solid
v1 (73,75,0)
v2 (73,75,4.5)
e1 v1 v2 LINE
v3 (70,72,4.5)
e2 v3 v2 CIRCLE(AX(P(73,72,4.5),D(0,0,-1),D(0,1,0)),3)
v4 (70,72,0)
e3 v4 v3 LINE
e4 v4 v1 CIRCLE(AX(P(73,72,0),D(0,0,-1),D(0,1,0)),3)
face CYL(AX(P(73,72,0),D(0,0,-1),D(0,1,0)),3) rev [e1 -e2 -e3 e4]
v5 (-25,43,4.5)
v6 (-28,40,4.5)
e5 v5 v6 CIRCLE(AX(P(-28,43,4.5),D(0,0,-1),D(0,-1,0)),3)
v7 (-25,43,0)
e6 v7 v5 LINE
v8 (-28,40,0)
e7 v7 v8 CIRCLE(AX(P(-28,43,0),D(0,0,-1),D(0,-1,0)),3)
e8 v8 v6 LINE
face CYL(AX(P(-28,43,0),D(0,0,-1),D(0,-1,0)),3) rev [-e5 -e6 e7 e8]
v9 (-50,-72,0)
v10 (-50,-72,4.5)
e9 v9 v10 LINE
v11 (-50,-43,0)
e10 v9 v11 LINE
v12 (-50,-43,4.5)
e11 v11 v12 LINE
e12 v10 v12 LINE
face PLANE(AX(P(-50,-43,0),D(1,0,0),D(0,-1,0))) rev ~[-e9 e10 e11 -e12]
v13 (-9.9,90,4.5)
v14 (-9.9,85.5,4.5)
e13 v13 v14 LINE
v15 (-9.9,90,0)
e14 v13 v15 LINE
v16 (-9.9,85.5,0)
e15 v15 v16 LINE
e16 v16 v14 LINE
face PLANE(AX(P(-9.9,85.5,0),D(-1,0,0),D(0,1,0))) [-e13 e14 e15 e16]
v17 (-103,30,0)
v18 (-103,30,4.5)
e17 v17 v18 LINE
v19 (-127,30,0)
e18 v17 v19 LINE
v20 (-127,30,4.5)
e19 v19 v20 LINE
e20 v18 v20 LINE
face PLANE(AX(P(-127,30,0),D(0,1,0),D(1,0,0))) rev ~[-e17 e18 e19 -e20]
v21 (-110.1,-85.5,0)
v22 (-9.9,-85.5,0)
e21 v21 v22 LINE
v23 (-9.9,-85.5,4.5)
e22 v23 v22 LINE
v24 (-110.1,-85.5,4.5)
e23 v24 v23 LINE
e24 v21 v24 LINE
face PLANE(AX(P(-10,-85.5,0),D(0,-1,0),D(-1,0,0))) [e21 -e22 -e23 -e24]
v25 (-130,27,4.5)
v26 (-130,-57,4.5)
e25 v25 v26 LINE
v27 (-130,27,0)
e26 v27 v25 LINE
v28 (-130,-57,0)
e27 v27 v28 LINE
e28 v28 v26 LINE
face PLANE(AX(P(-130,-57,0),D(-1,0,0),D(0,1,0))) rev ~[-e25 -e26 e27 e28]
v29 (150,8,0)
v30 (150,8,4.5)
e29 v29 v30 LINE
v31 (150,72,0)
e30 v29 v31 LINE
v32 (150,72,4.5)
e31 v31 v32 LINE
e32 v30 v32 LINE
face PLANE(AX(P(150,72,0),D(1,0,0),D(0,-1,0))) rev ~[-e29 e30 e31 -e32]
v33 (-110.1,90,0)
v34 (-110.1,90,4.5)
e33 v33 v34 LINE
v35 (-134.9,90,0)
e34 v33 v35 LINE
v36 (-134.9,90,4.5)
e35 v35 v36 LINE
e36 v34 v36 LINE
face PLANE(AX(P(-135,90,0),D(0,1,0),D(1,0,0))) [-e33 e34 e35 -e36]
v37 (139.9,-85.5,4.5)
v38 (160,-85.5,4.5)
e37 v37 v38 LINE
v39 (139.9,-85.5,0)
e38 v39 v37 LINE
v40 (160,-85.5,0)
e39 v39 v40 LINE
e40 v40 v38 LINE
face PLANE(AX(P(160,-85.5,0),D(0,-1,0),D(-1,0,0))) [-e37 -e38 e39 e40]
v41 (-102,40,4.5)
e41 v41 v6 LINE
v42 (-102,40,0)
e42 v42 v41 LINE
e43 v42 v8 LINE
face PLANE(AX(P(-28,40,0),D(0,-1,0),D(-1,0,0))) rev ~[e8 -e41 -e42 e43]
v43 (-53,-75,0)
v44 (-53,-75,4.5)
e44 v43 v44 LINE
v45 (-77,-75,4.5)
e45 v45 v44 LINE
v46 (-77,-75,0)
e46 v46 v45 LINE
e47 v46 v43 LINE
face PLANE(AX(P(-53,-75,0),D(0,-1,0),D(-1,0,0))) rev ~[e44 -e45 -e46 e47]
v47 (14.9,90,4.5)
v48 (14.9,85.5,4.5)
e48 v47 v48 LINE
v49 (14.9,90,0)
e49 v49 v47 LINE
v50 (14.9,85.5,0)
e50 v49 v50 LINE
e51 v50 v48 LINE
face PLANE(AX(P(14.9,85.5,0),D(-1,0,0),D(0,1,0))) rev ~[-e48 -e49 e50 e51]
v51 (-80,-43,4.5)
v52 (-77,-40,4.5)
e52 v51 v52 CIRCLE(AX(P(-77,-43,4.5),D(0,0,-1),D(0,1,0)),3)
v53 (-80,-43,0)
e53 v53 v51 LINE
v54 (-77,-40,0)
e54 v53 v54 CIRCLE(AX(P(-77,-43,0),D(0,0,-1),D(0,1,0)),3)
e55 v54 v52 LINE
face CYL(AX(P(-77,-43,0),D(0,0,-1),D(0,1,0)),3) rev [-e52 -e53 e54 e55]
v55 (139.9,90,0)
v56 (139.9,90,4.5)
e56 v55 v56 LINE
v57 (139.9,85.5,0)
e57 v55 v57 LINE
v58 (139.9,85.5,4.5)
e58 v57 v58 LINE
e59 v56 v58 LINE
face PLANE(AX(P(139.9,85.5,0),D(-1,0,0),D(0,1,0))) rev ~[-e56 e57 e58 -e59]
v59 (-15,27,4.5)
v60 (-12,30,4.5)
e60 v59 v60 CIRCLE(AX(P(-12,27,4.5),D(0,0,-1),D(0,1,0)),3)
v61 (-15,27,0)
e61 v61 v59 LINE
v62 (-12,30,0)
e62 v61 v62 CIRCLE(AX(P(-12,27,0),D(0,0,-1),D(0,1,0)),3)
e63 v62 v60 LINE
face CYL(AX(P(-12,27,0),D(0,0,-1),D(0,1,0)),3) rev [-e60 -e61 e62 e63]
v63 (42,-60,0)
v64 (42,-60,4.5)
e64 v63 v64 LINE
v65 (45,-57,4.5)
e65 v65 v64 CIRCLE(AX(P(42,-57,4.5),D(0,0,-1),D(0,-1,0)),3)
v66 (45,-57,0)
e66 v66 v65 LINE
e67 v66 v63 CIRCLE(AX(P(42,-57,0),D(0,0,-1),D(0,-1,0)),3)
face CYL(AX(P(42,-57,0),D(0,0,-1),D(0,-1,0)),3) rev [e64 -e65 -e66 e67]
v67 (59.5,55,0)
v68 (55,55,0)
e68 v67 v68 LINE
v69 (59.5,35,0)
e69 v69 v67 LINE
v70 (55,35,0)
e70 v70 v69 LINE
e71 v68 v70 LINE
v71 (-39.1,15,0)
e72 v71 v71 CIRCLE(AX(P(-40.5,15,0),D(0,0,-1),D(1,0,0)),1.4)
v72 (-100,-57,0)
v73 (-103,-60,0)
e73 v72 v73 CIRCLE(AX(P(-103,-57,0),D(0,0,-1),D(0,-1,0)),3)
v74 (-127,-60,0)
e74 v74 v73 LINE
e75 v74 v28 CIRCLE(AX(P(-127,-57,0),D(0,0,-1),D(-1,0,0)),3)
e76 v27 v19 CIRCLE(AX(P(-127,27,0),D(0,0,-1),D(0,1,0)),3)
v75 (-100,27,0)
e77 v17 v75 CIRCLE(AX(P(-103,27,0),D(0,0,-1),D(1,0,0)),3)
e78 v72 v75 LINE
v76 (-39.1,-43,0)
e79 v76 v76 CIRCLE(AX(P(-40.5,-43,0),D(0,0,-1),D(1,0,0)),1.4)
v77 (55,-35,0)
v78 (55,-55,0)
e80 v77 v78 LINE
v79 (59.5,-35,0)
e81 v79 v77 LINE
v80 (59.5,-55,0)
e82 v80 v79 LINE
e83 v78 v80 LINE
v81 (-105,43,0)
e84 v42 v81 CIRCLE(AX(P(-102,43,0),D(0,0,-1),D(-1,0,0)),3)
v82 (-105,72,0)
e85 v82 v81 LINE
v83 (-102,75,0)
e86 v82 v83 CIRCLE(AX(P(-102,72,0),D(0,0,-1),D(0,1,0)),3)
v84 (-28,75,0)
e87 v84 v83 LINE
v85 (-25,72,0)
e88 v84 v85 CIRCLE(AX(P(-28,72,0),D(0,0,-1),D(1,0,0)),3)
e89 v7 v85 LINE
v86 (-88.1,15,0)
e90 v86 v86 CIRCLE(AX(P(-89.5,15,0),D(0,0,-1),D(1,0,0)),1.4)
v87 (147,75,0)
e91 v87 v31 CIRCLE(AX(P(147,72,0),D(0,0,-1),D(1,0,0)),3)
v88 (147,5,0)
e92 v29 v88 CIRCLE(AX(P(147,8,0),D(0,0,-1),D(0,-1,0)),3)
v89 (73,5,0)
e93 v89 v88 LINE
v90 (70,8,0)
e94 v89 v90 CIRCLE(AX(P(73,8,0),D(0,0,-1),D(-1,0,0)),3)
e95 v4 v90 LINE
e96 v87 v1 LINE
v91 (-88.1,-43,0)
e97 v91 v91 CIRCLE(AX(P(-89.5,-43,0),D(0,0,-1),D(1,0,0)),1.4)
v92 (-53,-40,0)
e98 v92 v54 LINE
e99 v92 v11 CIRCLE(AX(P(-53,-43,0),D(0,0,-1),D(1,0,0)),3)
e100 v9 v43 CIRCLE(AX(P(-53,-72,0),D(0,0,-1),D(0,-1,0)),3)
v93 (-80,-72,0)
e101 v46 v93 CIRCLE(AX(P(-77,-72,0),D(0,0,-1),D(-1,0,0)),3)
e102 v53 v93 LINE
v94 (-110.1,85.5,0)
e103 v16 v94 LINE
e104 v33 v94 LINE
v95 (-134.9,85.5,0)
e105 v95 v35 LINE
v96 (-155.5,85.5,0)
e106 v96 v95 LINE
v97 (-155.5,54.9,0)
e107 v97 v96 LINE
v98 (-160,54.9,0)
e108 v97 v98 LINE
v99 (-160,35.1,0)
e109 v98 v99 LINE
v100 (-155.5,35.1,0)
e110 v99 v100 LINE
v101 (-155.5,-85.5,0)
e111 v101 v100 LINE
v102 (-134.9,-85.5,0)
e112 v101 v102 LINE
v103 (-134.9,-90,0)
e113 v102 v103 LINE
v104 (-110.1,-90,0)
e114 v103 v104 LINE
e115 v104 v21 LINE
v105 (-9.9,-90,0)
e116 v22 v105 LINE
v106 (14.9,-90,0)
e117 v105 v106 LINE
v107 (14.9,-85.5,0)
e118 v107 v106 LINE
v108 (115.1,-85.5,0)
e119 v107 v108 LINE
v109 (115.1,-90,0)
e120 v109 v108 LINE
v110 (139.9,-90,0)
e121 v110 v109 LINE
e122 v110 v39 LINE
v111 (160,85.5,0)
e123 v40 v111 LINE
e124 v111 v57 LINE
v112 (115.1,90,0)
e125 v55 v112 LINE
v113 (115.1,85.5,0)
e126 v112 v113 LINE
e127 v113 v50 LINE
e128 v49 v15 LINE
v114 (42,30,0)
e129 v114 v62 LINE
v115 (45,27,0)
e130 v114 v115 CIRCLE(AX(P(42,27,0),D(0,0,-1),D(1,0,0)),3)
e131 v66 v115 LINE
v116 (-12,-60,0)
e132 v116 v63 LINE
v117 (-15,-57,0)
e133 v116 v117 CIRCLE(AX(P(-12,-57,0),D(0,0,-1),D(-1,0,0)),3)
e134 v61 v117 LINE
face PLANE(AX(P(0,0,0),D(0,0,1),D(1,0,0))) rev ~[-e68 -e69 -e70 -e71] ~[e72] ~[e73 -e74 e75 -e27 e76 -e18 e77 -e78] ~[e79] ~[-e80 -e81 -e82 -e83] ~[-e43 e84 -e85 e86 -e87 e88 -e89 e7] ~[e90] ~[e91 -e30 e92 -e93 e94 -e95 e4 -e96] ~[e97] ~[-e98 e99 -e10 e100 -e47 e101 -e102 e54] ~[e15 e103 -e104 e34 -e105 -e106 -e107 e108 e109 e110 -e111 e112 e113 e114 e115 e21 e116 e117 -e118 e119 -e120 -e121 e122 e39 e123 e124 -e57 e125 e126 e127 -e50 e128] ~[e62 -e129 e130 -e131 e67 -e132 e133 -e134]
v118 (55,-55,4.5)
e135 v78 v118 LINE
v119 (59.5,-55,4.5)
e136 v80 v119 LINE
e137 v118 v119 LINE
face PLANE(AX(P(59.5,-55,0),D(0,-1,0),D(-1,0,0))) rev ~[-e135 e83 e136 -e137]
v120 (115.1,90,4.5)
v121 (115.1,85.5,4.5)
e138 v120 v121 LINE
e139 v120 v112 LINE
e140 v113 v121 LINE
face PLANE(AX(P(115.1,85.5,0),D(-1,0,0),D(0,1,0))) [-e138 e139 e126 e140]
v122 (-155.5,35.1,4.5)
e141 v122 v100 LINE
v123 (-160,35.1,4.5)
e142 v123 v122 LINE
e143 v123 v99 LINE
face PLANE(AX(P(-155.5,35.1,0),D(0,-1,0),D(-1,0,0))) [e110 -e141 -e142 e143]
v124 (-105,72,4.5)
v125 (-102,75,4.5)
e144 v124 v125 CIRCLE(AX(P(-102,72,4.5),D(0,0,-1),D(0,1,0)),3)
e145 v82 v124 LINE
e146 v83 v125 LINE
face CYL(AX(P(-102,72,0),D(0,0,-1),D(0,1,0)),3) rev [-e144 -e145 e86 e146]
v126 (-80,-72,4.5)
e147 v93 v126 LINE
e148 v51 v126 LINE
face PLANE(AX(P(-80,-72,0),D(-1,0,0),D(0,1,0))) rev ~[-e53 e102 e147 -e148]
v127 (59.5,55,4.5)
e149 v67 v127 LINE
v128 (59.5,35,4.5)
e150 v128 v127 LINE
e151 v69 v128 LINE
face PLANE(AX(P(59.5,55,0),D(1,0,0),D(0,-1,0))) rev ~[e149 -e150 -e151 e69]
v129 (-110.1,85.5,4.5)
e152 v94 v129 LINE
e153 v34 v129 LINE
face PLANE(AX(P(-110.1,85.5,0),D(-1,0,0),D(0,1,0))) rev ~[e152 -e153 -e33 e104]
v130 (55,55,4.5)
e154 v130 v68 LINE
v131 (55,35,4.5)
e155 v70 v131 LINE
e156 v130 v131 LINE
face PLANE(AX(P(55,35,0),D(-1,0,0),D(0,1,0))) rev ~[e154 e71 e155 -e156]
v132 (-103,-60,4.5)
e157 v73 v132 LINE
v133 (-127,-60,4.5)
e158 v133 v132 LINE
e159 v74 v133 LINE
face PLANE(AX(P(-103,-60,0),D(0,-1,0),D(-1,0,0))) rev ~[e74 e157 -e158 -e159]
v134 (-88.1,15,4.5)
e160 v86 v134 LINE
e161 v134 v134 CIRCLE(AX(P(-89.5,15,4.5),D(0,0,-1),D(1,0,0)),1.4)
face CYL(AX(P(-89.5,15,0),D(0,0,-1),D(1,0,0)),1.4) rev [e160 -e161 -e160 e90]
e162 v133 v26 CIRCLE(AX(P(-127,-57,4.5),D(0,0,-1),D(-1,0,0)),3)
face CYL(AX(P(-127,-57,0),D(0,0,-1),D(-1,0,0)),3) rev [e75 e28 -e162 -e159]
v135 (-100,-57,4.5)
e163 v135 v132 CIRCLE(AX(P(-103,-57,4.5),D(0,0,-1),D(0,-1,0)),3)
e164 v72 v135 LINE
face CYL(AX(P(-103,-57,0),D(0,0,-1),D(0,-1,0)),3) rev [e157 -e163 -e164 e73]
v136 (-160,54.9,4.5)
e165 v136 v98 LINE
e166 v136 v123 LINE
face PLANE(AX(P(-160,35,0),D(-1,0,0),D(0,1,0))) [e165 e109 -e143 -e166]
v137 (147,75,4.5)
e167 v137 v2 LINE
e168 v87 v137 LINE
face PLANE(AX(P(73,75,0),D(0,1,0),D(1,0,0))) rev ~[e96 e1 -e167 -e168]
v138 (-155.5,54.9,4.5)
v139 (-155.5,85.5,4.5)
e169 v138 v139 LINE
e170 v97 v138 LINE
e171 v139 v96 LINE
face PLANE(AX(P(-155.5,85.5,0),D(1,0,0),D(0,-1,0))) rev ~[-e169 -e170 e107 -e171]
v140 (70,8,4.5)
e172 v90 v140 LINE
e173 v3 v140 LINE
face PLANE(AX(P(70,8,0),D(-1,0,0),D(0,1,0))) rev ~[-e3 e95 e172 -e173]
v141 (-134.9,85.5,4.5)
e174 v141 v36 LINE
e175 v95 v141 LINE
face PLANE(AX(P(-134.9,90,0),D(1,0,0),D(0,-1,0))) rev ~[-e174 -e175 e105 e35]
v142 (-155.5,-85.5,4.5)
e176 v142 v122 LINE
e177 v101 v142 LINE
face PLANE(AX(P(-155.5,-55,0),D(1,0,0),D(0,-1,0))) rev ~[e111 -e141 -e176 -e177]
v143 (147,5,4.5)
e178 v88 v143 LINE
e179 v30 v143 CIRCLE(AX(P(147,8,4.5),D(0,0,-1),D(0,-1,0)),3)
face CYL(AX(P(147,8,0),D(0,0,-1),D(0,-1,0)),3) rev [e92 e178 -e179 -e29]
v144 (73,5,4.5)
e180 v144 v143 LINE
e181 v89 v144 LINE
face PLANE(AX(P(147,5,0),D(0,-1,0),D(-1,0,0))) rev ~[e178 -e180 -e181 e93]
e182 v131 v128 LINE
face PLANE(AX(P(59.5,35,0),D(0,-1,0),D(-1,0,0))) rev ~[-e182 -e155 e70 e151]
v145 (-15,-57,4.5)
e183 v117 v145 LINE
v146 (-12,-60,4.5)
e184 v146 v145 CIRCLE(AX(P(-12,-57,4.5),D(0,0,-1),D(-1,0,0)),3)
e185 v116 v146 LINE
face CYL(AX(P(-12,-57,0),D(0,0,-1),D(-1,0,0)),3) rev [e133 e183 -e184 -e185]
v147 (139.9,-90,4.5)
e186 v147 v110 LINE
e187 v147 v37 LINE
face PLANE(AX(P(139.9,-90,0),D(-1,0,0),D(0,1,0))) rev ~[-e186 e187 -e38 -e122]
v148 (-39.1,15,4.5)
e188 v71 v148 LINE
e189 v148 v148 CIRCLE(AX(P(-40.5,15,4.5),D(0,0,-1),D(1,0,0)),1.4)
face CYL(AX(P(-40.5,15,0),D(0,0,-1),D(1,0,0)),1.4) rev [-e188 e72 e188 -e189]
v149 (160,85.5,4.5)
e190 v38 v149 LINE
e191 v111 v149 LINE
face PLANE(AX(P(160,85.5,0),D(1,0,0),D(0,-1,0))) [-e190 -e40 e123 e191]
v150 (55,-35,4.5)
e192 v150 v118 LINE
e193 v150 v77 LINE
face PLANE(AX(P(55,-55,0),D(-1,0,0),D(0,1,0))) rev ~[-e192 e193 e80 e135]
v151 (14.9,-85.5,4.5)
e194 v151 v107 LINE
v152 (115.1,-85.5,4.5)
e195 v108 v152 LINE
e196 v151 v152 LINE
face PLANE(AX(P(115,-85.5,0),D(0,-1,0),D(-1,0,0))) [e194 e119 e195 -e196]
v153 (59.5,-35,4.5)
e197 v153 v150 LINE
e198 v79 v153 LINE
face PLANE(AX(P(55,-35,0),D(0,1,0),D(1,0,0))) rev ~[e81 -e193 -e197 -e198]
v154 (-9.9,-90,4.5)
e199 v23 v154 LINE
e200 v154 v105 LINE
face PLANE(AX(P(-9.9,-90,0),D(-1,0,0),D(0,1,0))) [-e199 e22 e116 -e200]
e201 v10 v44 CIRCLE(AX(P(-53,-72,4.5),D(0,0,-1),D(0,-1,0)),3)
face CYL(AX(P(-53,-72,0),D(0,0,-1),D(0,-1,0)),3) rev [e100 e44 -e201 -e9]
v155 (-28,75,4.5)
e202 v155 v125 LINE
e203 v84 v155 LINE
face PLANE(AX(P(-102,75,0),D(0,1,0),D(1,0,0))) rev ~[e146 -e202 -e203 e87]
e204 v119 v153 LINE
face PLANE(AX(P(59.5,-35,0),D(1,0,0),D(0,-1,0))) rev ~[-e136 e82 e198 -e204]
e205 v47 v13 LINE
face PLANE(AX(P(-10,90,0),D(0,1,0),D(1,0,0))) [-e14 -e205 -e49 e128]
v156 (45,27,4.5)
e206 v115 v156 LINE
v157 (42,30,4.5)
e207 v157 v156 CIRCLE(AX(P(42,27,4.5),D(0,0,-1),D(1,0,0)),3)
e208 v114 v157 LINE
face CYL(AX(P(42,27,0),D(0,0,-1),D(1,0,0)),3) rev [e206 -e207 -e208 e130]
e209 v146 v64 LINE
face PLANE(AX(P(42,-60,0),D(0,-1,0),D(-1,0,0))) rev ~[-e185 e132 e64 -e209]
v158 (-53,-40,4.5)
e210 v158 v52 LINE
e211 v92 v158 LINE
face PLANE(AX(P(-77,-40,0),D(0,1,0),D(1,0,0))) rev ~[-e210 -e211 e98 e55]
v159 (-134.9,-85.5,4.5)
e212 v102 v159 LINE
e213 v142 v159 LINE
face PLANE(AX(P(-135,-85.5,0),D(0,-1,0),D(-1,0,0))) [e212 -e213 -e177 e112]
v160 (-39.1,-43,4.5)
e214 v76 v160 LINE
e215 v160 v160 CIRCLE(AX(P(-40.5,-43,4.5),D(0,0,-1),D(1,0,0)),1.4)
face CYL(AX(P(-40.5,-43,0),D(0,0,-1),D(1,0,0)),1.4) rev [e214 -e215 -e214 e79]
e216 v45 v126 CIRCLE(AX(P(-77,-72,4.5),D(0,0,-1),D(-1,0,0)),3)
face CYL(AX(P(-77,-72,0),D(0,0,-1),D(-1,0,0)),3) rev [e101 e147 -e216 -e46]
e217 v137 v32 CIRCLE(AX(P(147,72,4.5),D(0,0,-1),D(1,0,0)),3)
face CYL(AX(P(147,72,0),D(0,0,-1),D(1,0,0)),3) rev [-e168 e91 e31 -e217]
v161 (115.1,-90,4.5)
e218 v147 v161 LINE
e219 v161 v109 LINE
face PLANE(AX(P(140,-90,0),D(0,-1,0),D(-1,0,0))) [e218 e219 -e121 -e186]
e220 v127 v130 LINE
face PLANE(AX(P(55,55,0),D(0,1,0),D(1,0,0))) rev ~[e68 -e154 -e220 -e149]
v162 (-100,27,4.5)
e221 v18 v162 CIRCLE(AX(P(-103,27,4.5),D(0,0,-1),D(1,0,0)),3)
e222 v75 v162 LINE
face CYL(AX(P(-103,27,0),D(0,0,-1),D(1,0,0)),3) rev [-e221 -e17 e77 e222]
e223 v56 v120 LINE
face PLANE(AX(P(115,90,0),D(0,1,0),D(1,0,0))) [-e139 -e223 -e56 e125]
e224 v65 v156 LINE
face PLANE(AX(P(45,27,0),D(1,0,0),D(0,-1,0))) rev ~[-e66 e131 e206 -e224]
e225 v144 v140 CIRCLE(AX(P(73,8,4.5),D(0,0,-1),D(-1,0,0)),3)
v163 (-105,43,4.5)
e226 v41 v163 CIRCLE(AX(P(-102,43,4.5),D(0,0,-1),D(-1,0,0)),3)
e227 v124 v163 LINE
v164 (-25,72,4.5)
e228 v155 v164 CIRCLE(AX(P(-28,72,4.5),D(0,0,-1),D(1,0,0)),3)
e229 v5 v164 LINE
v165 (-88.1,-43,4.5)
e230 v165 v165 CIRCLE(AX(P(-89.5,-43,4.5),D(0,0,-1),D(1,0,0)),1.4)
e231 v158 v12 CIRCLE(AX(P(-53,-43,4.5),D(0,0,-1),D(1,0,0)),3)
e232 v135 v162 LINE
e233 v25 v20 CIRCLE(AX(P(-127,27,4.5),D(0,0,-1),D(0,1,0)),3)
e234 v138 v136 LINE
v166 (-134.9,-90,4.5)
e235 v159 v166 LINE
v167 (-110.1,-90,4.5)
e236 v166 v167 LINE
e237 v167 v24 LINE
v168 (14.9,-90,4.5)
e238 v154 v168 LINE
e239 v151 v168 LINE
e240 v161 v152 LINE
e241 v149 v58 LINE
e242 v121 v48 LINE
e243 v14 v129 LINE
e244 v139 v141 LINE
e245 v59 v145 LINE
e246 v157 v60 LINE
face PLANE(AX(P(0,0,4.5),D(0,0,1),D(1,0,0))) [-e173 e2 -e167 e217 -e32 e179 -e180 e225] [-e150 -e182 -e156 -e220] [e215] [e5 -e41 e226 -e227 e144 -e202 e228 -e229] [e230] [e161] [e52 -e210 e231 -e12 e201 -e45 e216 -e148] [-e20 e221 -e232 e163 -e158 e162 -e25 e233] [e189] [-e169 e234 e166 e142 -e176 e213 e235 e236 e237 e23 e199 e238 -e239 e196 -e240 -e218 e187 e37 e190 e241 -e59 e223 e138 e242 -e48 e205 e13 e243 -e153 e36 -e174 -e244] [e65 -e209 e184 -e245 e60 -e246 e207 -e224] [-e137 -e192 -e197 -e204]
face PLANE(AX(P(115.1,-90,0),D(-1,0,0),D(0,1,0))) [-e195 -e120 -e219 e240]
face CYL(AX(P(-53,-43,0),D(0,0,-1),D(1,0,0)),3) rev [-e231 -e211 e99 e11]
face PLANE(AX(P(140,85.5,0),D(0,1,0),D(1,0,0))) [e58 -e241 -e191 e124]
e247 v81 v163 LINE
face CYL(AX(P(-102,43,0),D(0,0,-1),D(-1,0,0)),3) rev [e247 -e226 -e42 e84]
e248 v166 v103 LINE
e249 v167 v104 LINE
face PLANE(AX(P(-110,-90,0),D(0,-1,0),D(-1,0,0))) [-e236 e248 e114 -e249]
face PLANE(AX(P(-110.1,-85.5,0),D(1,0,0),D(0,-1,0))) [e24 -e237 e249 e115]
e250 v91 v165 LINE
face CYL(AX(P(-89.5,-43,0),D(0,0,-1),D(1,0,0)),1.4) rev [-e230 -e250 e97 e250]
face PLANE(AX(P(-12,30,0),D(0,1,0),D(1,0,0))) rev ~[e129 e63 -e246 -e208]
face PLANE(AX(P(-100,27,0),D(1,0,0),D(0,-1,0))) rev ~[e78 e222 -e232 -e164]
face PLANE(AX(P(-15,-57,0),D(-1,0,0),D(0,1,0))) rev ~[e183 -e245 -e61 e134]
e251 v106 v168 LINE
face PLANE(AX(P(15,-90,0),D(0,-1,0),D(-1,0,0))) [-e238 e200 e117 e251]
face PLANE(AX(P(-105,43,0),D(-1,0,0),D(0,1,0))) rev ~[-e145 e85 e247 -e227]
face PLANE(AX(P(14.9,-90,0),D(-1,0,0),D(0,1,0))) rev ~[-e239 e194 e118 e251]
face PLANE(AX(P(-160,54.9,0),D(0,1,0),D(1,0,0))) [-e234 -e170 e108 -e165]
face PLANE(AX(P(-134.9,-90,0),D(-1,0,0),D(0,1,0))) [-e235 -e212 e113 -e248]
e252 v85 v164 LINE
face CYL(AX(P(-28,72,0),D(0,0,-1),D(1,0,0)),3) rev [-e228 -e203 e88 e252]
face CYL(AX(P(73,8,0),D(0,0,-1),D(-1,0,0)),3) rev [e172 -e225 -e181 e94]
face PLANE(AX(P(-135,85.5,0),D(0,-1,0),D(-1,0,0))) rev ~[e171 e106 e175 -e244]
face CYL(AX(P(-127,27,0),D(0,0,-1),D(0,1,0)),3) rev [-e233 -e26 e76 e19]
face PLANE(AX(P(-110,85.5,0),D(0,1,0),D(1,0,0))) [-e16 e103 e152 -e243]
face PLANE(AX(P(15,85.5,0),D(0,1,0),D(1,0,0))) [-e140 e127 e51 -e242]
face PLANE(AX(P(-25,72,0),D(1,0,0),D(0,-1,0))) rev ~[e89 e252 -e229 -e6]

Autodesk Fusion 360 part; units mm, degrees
sketch "Sketch1" plane through (0, 0, 0) normal (0, 0, 1) x (1, 0, 0)
  line L0 (160, -90) -> (-160, -90)
  line L1 (-160, -90) -> (-160, 90)
  line L2 (-160, 90) -> (160, 90)
  line L3 (160, 90) -> (160, -90)
  line L4 (160, -90) -> (-160, 90) construction
  line L5 (-160, -90) -> (160, 90) construction
  line L6 (170, 85.5) -> (-180, 85.5) construction
  line L7 (-180, -85.5) -> (170, -85.5) construction
  line L8 (-155.5, 90) -> (-155.5, -90)
  line L9 (-160, 90) -> (-135, 90)
  line L10 (-135, 90) -> (-135, 85.5)
  line L11 (-135, 85.5) -> (-160, 85.5)
  line L12 (-160, 85.5) -> (-160, 90)
  line L13 (-160, -90) -> (-135, -90)
  line L14 (-135, -90) -> (-135, -85.5)
  line L15 (-135, -85.5) -> (-160, -85.5)
  line L16 (-160, -85.5) -> (-160, -90)
  line L17 (-110, -90) -> (-10, -90)
  line L18 (-10, -90) -> (-10, -85.5)
  line L19 (-10, -85.5) -> (-110, -85.5)
  line L20 (-110, -85.5) -> (-110, -90)
  line L21 (-10, -90) -> (15, -90)
  line L22 (15, -90) -> (15, -85.5)
  line L23 (15, -85.5) -> (-10, -85.5)
  line L24 (-10, -85.5) -> (-10, -90)
  line L25 (15, -90) -> (115, -90)
  line L26 (115, -90) -> (115, -85.5)
  line L27 (115, -85.5) -> (15, -85.5)
  line L28 (15, -85.5) -> (15, -90)
  line L29 (115, -90) -> (140, -90)
  line L30 (140, -90) -> (140, -85.5)
  line L31 (140, -85.5) -> (115, -85.5)
  line L32 (115, -85.5) -> (115, -90)
  line L33 (-135, 85.5) -> (-110, 85.5)
  line L34 (-110, 85.5) -> (-110, 90)
  line L35 (-110, 90) -> (-135, 90)
  line L36 (-135, 90) -> (-135, 85.5)
  line L37 (-110, 85.5) -> (-10, 85.5)
  line L38 (-10, 85.5) -> (-10, 90)
  line L39 (-10, 90) -> (-110, 90)
  line L40 (-110, 90) -> (-110, 85.5)
  line L41 (-10, 85.5) -> (15, 85.5)
  line L42 (15, 85.5) -> (15, 90)
  line L43 (15, 90) -> (-10, 90)
  line L44 (-10, 90) -> (-10, 85.5)
  line L45 (15, 85.5) -> (115, 85.5)
  line L46 (115, 85.5) -> (115, 90)
  line L47 (115, 90) -> (15, 90)
  line L48 (15, 90) -> (15, 85.5)
  line L49 (115, 85.5) -> (140, 85.5)
  line L50 (140, 85.5) -> (140, 90)
  line L51 (140, 90) -> (115, 90)
  line L52 (115, 90) -> (115, 85.5)
  line L53 (140, 85.5) -> (160, 85.5)
  line L54 (160, 85.5) -> (160, 90)
  line L55 (160, 90) -> (140, 90)
  line L56 (140, 90) -> (140, 85.5)
  line L57 (140, -90) -> (160, -90)
  line L58 (160, -90) -> (160, -85.5)
  line L59 (160, -85.5) -> (140, -85.5)
  line L60 (140, -85.5) -> (140, -90)
  line L61 (-160, 55) -> (-155.5, 55)
  line L62 (-155.5, 55) -> (-155.5, 35)
  line L63 (-155.5, 35) -> (-160, 35)
  line L64 (-160, 35) -> (-160, 55)
  line L65 (-160, -35) -> (-155.5, -35)
  line L66 (-155.5, -35) -> (-155.5, -55)
  line L67 (-155.5, -55) -> (-160, -55)
  line L68 (-160, -55) -> (-160, -35)
  line L69 (55, 100) -> (55, -100) construction
  line L70 (59.5, 100) -> (59.5, -100) construction
  line L71 (55, 55) -> (59.5, 55)
  line L72 (59.5, 55) -> (59.5, 35)
  line L73 (59.5, 35) -> (55, 35)
  line L74 (55, 35) -> (55, 55)
  line L75 (55, -35) -> (59.5, -35)
  line L76 (59.5, -35) -> (59.5, -55)
  line L77 (59.5, -55) -> (55, -55)
  line L78 (55, -55) -> (55, -35)
  line L79 (-40.5, -43) -> (-89.5, -43) construction
  line L80 (-89.5, -43) -> (-89.5, 15) construction
  line L81 (-89.5, 15) -> (-40.5, 15) construction
  line L82 (-40.5, 15) -> (-40.5, -43) construction
  line L83 (-40.5, -43) -> (-89.5, 15) construction
  line L84 (-89.5, -43) -> (-40.5, 15) construction
  circle A0 centre (-40.5, 15) radius 1.4
  circle A1 centre (-89.5, 15) radius 1.4
  circle A2 centre (-89.5, -43) radius 1.4
  circle A3 centre (-40.5, -43) radius 1.4
  line L85 (-53, -75) -> (-77, -75)
  line L86 (-80, -72) -> (-80, -43)
  line L87 (-77, -40) -> (-53, -40)
  line L88 (-50, -43) -> (-50, -72)
  line L89 (-50, -75) -> (-80, -40) construction
  line L90 (-80, -75) -> (-50, -40) construction
  arc A4 (-77, -40) -> (-80, -43) centre (-77, -43) ccw
  arc A5 (-50, -43) -> (-53, -40) centre (-53, -43) ccw
  arc A6 (-80, -72) -> (-77, -75) centre (-77, -72) ccw
  arc A7 (-53, -75) -> (-50, -72) centre (-53, -72) ccw
  line L91 (-28, 40) -> (-102, 40)
  line L92 (-105, 43) -> (-105, 72)
  line L93 (-102, 75) -> (-28, 75)
  line L94 (-25, 72) -> (-25, 43)
  line L95 (-25, 40) -> (-105, 75) construction
  line L96 (-105, 40) -> (-25, 75) construction
  arc A8 (-102, 75) -> (-105, 72) centre (-102, 72) ccw
  arc A9 (-25, 72) -> (-28, 75) centre (-28, 72) ccw
  arc A10 (-105, 43) -> (-102, 40) centre (-102, 43) ccw
  arc A11 (-28, 40) -> (-25, 43) centre (-28, 43) ccw
  line L97 (147, 5) -> (73, 5)
  line L98 (70, 8) -> (70, 72)
  line L99 (73, 75) -> (147, 75)
  line L100 (150, 72) -> (150, 8)
  line L101 (150, 5) -> (70, 75) construction
  line L102 (70, 5) -> (150, 75) construction
  arc A12 (70, 8) -> (73, 5) centre (73, 8) ccw
  arc A13 (73, 75) -> (70, 72) centre (73, 72) ccw
  arc A14 (150, 72) -> (147, 75) centre (147, 72) ccw
  arc A15 (147, 5) -> (150, 8) centre (147, 8) ccw
  line L103 (42, -60) -> (-12, -60)
  line L104 (-15, -57) -> (-15, 27)
  line L105 (-12, 30) -> (42, 30)
  line L106 (45, 27) -> (45, -57)
  line L107 (45, -60) -> (-15, 30) construction
  line L108 (-15, -60) -> (45, 30) construction
  arc A16 (-12, 30) -> (-15, 27) centre (-12, 27) ccw
  arc A17 (45, 27) -> (42, 30) centre (42, 27) ccw
  arc A18 (-15, -57) -> (-12, -60) centre (-12, -57) ccw
  arc A19 (42, -60) -> (45, -57) centre (42, -57) ccw
  line L109 (-103, -60) -> (-127, -60)
  line L110 (-130, -57) -> (-130, 27)
  line L111 (-127, 30) -> (-103, 30)
  line L112 (-100, 27) -> (-100, -57)
  line L113 (-100, -60) -> (-130, 30) construction
  line L114 (-130, -60) -> (-100, 30) construction
  arc A20 (-127, 30) -> (-130, 27) centre (-127, 27) ccw
  arc A21 (-100, 27) -> (-103, 30) centre (-103, 27) ccw
  arc A22 (-130, -57) -> (-127, -60) centre (-127, -57) ccw
  arc A23 (-103, -60) -> (-100, -57) centre (-103, -57) ccw
  point P0 (-65, -14)
  point P1 (-65, -57.5)
  point P2 (-65, 57.5)
  point P3 (110, 40)
  point P4 (15, -15)
  point P5 (-115, -15)
  dimension "d1" = 320
  dimension "d2" = 180
  dimension "d3" = 4.5
  dimension "d4" = 4.5
  dimension "d5" = 4.5
  dimension "d6" = 25
  dimension "d7" = 25
  dimension "d8" = 100
  dimension "d9" = 25
  dimension "d10" = 25
  dimension "d11" = 100
  dimension "d12" = 25
  dimension "d13" = 25
  dimension "d14" = 100
  dimension "d15" = 25
  dimension "d16" = 100
  dimension "d17" = 25
  dimension "d18" = 20
  dimension "d19" = 20
  dimension "d20" = 35
  dimension "d21" = 35
  dimension "d22" = 215
  dimension "d23" = 4.5
  dimension "d24" = 20
  dimension "d25" = 20
  dimension "d26" = 35
  dimension "d27" = 35
  dimension "d28" = 49
  dimension "d29" = 58
  dimension "d30" = 76
  dimension "d31" = 120
  dimension "d32" = 2.8
  dimension "d33" = 2.8
  dimension "d34" = 2.8
  dimension "d35" = 2.8
  dimension "d46" = 30
  dimension "d47" = 35
  dimension "d48" = 3
  dimension "d49" = 3
  dimension "d50" = 3
  dimension "d51" = 3
  dimension "d52" = 80
  dimension "d53" = 35
  dimension "d54" = 25
  dimension "d55" = 3
  dimension "d56" = 3
  dimension "d57" = 3
  dimension "d58" = 3
  dimension "d65" = 80
  dimension "d66" = 70
  dimension "d67" = 3
  dimension "d68" = 3
  dimension "d69" = 3
  dimension "d70" = 3
  dimension "d71" = 3
  dimension "d72" = 3
  dimension "d73" = 3
  dimension "d74" = 3
  dimension "d75" = 3
  dimension "d76" = 3
  dimension "d77" = 3
  dimension "d78" = 3
  dimension "d103" = 10.5
  dimension "d104" = 10.5
  dimension "d105" = 10.5
extrude "Extrude1" add sketch "Sketch1" along normal blind 4.5 contours L0 L26 L29 L30 L31 L32 L60 | L0 L3 L8 L11 L14 L15 L19 L20 L23 L27 L31 L33 L37 L41 L45 L49 L53 L59 L62 L66 | L0 L18 L21 L22 L23 L24 L28 | L2 L46 L49 L50 L51 L52 L56 | L2 L38 L41 L42 L43 L44 L48 | L2 L10 L33 L34 L35 L36 L40 | L1 L8 L61 L62 L63 L64
move_face "OffsetFaces1" offset -0.1 6 faces at (140, -88.5, 1.5) (15, -88.5, 1.5) (-110, -87, 1.5) (140, 87, 1.5) (15, 87, 1.5) (-110, 87, 1.5)
move_face "OffsetFaces2" offset -0.1 6 faces at (115, -88.5, 1.5) (-10, -88.5, 1.5) (-135, -88.5, 1.5) (-135, 88.5, 1.5) (-10, 87, 1.5) (115, 87, 1.5)
move_face "OffsetFaces5" offset -0.1 1 faces at (-157, 35, 1.5)
move_face "OffsetFaces6" offset -0.1 1 faces at (-158.5, 55, 1.5)
